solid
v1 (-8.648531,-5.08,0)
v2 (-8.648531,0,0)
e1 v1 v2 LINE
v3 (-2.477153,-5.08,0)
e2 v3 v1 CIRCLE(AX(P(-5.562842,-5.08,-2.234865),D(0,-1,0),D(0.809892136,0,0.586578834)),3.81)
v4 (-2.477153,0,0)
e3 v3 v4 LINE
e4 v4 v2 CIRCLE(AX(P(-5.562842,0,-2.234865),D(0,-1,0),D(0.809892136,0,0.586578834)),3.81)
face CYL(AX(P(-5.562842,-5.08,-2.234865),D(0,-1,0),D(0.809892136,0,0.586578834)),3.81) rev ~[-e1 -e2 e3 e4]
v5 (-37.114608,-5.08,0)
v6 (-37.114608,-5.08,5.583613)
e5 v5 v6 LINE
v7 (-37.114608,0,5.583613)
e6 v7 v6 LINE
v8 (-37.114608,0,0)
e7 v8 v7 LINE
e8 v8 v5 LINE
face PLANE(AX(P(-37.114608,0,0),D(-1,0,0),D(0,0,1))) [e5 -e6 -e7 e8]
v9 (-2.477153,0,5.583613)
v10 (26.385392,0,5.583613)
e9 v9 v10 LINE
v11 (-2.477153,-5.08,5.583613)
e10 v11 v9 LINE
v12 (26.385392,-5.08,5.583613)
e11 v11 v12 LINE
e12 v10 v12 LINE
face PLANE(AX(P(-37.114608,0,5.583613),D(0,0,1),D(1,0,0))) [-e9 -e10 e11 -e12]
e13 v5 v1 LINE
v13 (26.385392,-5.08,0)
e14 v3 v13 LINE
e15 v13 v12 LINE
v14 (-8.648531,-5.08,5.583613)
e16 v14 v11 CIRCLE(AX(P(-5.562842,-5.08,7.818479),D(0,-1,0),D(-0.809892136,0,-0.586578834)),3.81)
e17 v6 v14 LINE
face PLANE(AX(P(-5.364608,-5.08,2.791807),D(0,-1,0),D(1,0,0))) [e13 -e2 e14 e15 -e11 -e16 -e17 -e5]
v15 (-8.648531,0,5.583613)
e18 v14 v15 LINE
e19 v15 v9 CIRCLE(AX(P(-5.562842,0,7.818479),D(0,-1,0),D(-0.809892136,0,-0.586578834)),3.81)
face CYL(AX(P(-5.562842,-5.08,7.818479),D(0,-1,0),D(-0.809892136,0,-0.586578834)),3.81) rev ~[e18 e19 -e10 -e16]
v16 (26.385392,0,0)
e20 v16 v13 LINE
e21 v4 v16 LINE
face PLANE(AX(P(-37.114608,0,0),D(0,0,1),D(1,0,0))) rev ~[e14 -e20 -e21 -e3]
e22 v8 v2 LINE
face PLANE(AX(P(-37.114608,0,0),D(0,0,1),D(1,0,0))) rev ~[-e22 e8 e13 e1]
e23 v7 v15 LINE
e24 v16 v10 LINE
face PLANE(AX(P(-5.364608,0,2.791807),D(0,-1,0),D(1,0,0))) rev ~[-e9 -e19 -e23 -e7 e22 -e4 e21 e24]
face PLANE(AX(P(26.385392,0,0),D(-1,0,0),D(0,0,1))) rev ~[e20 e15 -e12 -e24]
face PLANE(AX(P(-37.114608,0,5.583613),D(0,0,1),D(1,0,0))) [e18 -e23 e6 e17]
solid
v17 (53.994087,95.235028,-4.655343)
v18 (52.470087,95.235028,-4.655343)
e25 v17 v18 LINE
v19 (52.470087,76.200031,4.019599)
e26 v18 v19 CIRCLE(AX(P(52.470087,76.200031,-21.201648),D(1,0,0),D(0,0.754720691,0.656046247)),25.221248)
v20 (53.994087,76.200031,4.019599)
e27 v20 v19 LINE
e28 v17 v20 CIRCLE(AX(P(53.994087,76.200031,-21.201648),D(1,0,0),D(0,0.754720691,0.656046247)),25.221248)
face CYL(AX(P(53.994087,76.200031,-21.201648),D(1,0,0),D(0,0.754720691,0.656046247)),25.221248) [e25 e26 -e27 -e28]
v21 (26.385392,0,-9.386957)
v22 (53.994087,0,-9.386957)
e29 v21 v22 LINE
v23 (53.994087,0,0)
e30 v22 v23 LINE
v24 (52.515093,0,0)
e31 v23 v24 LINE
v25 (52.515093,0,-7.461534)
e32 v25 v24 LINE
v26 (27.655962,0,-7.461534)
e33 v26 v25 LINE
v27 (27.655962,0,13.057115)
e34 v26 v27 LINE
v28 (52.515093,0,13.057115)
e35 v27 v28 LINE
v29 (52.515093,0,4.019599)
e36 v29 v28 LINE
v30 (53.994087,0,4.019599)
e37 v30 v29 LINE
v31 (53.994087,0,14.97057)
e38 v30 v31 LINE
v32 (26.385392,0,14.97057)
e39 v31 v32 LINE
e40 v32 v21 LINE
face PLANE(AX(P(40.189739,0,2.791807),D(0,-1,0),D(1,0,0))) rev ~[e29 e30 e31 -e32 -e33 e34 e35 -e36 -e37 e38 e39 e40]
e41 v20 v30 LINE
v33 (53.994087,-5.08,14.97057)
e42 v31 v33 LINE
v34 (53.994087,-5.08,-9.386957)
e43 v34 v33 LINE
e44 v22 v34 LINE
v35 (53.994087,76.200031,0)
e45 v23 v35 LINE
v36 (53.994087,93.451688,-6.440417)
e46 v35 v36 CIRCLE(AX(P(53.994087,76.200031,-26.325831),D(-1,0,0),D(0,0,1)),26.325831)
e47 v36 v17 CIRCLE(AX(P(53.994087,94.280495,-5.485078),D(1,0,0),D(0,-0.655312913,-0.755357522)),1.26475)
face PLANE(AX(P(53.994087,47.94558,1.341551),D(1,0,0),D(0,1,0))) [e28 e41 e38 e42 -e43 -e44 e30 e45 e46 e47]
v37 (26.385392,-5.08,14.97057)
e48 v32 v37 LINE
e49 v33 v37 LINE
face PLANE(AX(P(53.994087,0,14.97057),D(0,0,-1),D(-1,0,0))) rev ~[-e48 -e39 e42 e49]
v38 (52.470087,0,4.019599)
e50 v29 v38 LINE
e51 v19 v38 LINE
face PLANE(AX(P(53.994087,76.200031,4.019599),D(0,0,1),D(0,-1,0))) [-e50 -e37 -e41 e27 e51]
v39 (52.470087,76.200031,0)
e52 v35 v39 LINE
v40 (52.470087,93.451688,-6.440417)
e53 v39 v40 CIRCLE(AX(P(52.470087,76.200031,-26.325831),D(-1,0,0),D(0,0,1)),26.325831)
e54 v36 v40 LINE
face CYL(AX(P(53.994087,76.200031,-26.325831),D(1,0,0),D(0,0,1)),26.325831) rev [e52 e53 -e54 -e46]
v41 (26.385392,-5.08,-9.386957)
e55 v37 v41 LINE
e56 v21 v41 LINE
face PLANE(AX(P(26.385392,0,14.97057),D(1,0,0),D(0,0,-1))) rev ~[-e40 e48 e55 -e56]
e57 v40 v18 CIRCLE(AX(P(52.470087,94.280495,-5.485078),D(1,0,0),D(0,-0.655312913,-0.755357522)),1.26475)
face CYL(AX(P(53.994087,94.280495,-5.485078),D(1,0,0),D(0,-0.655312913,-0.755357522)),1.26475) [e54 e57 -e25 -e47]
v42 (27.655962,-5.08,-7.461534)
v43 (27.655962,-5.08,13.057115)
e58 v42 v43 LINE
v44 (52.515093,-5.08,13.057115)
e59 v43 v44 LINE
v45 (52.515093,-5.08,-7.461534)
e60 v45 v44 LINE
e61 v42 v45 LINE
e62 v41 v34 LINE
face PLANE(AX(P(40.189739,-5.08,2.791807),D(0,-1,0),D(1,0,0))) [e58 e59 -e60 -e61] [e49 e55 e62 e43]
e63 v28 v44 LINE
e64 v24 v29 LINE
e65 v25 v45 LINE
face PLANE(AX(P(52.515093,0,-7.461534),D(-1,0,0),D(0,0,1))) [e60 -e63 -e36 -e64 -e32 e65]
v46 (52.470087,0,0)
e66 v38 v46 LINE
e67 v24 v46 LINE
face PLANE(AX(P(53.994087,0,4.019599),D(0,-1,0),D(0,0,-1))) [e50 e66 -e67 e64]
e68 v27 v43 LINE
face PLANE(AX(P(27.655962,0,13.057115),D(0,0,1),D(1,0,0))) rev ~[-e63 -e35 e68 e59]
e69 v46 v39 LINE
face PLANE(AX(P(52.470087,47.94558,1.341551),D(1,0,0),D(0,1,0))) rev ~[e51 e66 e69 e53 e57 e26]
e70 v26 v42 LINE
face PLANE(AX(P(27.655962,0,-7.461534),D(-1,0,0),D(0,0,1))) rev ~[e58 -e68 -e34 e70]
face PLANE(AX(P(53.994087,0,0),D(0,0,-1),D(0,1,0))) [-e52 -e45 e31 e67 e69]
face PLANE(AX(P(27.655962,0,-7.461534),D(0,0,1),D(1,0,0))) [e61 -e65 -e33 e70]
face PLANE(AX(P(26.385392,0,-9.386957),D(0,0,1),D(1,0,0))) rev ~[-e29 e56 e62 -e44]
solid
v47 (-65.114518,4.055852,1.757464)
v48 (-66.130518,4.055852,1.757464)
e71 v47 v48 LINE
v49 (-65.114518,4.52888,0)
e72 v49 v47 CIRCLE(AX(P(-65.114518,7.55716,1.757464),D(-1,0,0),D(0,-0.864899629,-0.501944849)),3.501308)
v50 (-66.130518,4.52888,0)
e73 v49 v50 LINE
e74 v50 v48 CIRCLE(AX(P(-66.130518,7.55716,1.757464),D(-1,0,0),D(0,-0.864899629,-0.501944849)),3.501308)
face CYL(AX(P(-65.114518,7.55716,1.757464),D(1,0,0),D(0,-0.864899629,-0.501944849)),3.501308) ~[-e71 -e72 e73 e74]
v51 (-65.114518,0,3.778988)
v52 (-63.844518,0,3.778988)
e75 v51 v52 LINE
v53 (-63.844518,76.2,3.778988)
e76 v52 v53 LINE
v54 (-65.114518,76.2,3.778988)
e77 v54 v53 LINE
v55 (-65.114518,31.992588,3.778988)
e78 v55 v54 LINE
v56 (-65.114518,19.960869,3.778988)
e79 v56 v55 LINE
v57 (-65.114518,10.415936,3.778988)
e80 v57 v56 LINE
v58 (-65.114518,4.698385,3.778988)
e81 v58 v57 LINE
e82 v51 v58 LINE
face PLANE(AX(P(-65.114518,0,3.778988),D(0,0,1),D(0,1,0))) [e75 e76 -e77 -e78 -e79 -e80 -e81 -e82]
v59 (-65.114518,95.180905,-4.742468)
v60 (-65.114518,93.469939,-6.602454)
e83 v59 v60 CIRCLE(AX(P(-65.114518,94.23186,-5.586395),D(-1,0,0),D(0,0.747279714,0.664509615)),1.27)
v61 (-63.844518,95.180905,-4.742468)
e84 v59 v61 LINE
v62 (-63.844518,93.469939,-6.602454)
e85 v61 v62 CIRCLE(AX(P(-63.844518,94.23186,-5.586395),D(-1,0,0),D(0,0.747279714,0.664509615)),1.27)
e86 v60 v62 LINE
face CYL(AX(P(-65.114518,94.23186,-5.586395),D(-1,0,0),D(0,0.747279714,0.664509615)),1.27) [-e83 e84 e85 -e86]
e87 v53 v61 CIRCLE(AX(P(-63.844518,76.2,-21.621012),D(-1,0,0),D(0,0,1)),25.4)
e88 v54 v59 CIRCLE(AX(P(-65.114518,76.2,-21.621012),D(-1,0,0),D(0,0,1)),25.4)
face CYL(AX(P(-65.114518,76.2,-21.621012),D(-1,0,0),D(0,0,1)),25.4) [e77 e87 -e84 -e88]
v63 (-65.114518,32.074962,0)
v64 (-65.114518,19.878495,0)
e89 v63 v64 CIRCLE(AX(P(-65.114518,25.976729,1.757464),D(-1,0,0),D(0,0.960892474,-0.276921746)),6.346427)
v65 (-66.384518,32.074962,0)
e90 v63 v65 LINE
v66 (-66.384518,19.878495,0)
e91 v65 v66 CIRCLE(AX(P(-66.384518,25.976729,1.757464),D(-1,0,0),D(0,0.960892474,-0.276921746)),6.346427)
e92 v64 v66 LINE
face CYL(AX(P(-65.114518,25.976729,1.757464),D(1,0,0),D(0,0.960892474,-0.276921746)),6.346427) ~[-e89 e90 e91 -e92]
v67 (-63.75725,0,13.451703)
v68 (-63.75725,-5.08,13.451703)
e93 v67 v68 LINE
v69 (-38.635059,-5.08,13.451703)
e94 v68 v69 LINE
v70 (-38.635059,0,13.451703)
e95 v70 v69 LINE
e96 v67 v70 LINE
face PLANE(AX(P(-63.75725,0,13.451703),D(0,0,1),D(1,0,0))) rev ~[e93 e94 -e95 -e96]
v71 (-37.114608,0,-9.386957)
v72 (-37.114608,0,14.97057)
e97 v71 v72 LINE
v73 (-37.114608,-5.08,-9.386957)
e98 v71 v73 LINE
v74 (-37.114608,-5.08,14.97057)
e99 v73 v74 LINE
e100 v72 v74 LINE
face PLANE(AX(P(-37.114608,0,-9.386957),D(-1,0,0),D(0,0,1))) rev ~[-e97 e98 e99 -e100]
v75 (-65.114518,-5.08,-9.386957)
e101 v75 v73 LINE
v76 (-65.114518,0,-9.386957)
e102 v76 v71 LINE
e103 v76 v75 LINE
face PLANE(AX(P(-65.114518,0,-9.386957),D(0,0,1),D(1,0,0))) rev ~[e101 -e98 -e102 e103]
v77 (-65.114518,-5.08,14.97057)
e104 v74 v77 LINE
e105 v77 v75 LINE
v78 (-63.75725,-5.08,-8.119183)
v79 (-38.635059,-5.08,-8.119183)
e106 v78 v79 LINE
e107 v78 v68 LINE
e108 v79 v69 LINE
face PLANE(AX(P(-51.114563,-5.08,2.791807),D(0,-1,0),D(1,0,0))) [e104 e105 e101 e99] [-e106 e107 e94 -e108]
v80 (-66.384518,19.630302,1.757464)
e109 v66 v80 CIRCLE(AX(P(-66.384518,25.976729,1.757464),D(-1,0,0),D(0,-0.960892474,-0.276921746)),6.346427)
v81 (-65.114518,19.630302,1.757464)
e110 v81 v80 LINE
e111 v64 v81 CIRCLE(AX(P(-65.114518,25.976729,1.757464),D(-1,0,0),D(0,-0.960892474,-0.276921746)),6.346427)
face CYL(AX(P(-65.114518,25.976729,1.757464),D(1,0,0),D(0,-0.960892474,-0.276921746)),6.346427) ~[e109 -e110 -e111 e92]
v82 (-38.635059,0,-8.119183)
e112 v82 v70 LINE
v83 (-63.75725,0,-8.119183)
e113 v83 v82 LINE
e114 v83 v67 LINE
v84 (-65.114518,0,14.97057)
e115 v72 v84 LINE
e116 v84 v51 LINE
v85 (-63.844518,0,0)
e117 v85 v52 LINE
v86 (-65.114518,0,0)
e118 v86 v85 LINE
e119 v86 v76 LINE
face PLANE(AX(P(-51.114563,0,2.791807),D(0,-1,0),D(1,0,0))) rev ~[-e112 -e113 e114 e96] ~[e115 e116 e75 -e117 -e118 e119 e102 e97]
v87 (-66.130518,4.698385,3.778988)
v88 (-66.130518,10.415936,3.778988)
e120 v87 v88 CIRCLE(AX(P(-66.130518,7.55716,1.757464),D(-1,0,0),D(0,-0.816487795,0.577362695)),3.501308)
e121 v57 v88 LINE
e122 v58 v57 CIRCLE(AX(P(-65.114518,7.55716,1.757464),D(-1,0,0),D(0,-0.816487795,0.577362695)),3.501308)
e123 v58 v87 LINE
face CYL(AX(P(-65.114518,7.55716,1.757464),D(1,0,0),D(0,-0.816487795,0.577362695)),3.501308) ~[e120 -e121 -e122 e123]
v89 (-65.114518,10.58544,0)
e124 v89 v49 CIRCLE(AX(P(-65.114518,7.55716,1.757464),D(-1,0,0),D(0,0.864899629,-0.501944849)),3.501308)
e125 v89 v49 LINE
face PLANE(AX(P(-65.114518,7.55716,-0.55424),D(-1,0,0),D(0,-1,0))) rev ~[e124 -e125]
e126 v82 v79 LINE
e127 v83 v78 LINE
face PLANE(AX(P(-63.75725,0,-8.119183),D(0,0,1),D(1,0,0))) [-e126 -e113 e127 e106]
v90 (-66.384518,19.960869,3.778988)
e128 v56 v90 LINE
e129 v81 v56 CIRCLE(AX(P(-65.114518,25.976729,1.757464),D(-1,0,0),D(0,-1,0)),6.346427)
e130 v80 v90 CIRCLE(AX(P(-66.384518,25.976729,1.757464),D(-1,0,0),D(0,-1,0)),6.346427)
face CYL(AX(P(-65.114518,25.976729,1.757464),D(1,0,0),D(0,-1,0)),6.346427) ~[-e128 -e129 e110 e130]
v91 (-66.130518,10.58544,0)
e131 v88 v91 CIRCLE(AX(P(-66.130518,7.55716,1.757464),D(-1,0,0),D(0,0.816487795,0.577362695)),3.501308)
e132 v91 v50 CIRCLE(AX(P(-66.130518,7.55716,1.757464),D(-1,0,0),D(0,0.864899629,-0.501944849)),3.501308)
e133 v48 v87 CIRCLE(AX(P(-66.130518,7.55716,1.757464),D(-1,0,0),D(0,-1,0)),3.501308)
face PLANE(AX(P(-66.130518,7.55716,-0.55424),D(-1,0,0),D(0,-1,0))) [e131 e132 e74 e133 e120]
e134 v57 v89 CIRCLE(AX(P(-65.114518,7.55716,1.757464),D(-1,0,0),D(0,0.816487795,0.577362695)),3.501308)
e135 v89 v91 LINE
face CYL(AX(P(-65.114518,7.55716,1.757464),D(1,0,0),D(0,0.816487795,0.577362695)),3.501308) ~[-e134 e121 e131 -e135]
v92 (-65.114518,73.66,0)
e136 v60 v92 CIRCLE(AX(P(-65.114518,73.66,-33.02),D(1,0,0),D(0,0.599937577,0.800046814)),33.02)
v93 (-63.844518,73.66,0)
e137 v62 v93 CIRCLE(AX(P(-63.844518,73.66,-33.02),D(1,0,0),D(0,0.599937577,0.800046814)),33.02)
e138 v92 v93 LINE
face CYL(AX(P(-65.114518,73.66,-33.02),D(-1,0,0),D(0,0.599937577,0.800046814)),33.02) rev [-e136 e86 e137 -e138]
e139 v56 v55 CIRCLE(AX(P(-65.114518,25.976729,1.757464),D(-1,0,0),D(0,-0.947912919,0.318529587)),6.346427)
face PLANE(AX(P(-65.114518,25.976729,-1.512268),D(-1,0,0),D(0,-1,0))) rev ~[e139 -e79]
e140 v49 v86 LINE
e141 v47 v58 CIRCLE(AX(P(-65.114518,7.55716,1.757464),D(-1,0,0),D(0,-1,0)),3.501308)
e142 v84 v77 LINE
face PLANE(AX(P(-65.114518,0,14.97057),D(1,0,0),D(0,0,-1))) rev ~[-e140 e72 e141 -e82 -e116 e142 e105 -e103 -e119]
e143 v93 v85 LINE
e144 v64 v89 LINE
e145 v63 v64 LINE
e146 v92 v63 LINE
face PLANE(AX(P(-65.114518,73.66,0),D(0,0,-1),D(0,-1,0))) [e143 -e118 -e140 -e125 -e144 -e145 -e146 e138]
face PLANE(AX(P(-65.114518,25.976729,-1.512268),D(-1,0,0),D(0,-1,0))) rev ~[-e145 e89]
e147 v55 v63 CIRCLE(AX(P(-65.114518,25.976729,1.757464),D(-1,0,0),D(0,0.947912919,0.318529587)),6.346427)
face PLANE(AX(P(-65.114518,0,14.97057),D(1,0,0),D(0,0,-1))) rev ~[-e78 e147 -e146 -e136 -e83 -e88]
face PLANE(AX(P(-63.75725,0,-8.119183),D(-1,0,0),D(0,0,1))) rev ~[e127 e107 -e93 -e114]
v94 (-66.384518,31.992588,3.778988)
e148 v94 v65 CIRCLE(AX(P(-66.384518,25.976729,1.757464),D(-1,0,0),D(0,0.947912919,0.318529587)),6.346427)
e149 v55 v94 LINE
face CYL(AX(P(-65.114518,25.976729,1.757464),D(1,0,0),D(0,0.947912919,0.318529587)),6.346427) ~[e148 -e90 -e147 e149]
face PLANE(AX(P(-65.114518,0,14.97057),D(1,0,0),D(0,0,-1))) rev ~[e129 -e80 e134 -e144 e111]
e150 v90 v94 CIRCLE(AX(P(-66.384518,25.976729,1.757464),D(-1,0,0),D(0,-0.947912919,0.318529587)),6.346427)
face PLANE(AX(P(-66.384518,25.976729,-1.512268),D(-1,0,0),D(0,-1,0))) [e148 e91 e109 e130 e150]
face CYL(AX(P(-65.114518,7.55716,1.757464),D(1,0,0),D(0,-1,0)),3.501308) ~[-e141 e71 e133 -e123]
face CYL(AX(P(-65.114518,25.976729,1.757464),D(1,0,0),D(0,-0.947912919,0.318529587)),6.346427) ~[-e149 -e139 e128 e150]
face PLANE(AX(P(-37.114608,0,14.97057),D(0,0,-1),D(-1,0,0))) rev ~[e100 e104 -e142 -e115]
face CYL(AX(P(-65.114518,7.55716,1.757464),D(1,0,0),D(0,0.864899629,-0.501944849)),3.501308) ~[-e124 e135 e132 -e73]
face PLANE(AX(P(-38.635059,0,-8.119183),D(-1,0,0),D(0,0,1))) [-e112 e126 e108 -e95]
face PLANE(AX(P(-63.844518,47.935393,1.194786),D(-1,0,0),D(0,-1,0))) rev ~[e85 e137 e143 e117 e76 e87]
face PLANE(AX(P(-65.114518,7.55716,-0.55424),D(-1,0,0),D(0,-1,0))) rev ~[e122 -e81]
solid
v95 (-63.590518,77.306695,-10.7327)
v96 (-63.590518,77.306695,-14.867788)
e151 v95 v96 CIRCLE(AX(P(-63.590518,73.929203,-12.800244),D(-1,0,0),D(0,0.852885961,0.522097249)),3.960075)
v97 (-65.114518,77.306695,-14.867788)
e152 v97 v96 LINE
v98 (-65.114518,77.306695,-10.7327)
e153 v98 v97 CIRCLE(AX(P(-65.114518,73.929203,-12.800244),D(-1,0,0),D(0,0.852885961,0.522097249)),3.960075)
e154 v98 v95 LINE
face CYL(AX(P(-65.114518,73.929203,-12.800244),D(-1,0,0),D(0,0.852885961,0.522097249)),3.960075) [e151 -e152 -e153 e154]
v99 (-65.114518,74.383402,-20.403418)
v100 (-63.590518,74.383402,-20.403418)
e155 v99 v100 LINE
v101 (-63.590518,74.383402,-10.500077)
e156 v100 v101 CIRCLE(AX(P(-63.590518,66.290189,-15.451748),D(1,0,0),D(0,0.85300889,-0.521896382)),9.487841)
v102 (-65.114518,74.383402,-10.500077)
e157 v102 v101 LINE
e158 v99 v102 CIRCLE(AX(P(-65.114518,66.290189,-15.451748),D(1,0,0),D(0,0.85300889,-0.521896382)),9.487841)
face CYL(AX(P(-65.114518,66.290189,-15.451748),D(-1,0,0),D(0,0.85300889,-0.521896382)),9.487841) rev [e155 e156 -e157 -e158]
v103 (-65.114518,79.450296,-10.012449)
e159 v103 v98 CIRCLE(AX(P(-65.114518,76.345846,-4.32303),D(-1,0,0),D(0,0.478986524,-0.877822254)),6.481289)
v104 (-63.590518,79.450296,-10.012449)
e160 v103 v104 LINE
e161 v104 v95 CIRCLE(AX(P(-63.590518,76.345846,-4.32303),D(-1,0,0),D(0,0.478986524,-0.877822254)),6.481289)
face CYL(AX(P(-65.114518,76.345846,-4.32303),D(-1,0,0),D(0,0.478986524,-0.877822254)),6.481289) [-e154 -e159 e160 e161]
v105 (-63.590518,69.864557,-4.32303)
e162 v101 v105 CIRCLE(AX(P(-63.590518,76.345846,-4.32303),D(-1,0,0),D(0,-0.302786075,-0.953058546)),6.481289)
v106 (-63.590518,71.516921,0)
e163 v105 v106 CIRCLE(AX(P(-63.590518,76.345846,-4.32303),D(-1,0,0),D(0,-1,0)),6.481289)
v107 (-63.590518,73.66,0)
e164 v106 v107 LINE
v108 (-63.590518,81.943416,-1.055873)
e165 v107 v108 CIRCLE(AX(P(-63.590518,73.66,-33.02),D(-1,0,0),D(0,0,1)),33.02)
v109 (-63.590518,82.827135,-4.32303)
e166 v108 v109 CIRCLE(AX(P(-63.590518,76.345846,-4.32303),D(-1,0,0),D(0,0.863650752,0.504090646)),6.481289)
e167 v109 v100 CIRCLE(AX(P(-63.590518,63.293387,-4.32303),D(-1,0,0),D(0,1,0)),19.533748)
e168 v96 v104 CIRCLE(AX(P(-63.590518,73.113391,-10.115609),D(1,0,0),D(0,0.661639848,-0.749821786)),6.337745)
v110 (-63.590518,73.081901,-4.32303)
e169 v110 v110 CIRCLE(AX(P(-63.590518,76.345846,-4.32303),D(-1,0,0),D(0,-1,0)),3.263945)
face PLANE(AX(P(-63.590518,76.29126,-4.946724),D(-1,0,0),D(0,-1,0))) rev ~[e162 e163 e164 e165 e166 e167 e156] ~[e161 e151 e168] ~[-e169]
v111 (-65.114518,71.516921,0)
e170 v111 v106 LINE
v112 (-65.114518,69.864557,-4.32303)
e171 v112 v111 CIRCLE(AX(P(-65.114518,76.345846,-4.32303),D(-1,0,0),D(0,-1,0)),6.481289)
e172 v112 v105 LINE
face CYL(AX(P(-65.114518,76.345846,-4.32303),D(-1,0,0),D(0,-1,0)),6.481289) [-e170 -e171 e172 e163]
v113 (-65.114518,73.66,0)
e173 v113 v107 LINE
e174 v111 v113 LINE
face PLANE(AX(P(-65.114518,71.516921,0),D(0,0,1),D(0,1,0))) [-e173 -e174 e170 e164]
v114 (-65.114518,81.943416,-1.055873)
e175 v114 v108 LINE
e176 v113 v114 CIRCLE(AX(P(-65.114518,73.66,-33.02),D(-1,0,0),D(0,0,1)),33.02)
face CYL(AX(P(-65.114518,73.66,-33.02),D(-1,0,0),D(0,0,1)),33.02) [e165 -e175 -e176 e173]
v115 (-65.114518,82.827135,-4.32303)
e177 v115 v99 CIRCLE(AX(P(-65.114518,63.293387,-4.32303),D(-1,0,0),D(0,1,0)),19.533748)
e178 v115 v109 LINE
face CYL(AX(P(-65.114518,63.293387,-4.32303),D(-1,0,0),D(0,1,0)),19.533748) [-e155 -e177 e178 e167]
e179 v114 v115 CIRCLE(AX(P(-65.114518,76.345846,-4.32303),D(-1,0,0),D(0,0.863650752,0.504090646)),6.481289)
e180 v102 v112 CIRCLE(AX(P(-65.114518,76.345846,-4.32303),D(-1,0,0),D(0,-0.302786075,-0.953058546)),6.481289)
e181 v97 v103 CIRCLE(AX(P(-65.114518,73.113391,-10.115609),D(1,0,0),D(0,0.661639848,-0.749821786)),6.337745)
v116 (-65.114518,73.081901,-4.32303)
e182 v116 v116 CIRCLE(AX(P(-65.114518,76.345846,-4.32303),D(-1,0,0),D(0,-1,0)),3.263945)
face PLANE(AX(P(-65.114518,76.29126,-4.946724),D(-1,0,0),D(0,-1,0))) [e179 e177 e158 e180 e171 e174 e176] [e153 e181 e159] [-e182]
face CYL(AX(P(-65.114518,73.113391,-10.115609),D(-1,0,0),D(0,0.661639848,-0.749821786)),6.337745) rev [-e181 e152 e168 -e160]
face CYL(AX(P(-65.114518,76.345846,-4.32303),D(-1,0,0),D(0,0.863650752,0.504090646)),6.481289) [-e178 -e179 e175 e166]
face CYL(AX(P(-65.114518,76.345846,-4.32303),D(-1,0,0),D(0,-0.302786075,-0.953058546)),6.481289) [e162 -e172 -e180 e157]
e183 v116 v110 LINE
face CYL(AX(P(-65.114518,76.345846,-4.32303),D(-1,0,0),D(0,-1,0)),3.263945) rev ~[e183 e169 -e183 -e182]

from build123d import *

# Parameters (mm, degrees)
F0_W      = 24.8591314353
F0_H      = 20.5186494302
F1_DEPTH  = 5.08
F0_W_2    = 25.122191595
F0_H_2    = 21.5708865258
F2_DEPTH  = 5.08
F0_W_3    = 63.5
F0_H_3    = 5.5836134831
F3_DEPTH  = 5.08
F5_DEPTH  = 1.27
F7_DEPTH  = 1.524
F9_DEPTH  = 25.4
F10_R     = 3.2639449121
F11_DEPTH = 1.524
F12_DEPTH = 25.4
F14_DEPTH = 1.016
F15_DEPTH = 1.27


with BuildPart() as f1:
    # F0 (on Front) → F1 (new body)
    with BuildSketch(Plane.XZ):
        Polygon((26.385391636, 14.9705700048), (26.385391636, 5.5836134831), (26.385391636, 0), (26.385391636, -9.3869565217), (53.9940872881, -9.3869565217), (53.9940872881, 14.9705700048), align=None)
        with Locations((40.0855276815, 2.7977904487)):
            Rectangle(F0_W, F0_H, mode=Mode.SUBTRACT)
    extrude(amount=F1_DEPTH)

    # F0 (on Front) → F2 (cut)
    with BuildSketch(Plane.XZ):
        with Locations((-51.196154369, 2.6662601158)):
            Rectangle(F0_W_2, F0_H_2)
        with Locations((40.0855276815, 2.7977904487)):
            Rectangle(F0_W, F0_H)
    extrude(amount=F2_DEPTH, mode=Mode.SUBTRACT)

    # F6 (on face) → F7 (join)
    with BuildSketch(Plane.YZ.offset(53.9940872881)):
        with BuildLine():
            Line((76.2000307441, 4.0195993367), (0, 4.0195993367))
            Line((0, 4.0195993367), (0, 0))
            Line((0, 0), (76.2000307441, 0))
            ThreePointArc((76.2000307441, 0), (85.4073462963, -1.6626049581), (93.451687857, -6.440416568))
            ThreePointArc((93.451687857, -6.440416568), (95.175242601, -6.3789570267), (95.2350281051, -4.6553434028))
            ThreePointArc((95.2350281051, -4.6553434028), (86.6593060066, 1.7486216939), (76.2000307441, 4.0195993367))
        make_face()
    extrude(amount=-F7_DEPTH)

    # F10 (on face) → F12 (cut)
    with BuildSketch(Plane(origin=(-65.1145180239, 0, 0), x_dir=(0, -1, 0), z_dir=(-1, 0, 0))):
        with Locations((-76.3458460569, -4.3230298907)):
            Circle(F10_R)
        with BuildLine():
            ThreePointArc((-77.3066952825, -10.7327000518), (-78.4101509232, -10.4667867403), (-79.450295985, -10.0124493208))
            ThreePointArc((-79.450295985, -10.0124493208), (-78.9112272655, -12.6753163205), (-77.3066952825, -14.8677881807))
            ThreePointArc((-77.3066952825, -14.8677881807), (-77.8892778547, -12.8002441162), (-77.3066952825, -10.7327000518))
        make_face()
    extrude(amount=-F12_DEPTH, mode=Mode.SUBTRACT)


with BuildPart() as f1b:
    # F0 (on Front) → F1, piece 2 (new body)
    with BuildSketch(Plane.XZ):
        Polygon((-37.114608364, 0), (-37.114608364, 5.5836134831), (-37.114608364, 14.9705700048), (-65.1145180239, 14.9705700048), (-65.1145180239, -9.3869565217), (-37.114608364, -9.3869565217), align=None)
        with Locations((-51.196154369, 2.6662601158)):
            Rectangle(F0_W_2, F0_H_2, mode=Mode.SUBTRACT)
    extrude(amount=F1_DEPTH)

    # F4 (on face) → F5 (join)
    with BuildSketch(Plane(origin=(-65.1145180239, 0, 0), x_dir=(0, -1, 0), z_dir=(-1, 0, 0))):
        with BuildLine():
            Line((0, 0), (0, 3.7789882266))
            Line((0, 3.7789882266), (-76.2, 3.7789882266))
            ThreePointArc((-76.2, 3.7789882266), (-86.6030038133, 1.5509003545), (-95.1809047422, -4.7424675481))
            ThreePointArc((-95.1809047422, -4.7424675481), (-95.1665474178, -6.4461961933), (-93.4699387827, -6.6024542127))
            ThreePointArc((-93.4699387827, -6.6024542127), (-84.1006187102, -1.6940701503), (-73.66, 0))
            Line((-73.66, 0), (0, 0))
        make_face()
    extrude(amount=-F5_DEPTH)

    # F13 (on face) → F14 (join)
    with BuildSketch(Plane(origin=(-65.1145180239, 0, 0), x_dir=(0, -1, 0), z_dir=(-1, 0, 0))):
        with BuildLine():
            ThreePointArc((-10.585440284, 0), (-7.557160221, -1.7438445264), (-4.528880158, 0))
            Line((-4.528880158, 0), (-10.585440284, 0))
        make_face()
        with BuildLine():
            ThreePointArc((-4.528880158, 0), (-4.1761766544, 0.847458933), (-4.0558521379, 1.7574635567))
            ThreePointArc((-4.0558521379, 1.7574635567), (-4.2203495123, 2.8180542352), (-4.698384906, 3.7789882266))
            Line((-4.698384906, 3.7789882266), (-10.4159355361, 3.7789882266))
            ThreePointArc((-10.4159355361, 3.7789882266), (-11.0549514184, 1.9143553435), (-10.585440284, 0))
            Line((-10.585440284, 0), (-4.528880158, 0))
        make_face()
        with BuildLine():
            Line((-10.4159355361, 3.7789882266), (-4.698384906, 3.7789882266))
            ThreePointArc((-4.698384906, 3.7789882266), (-7.557160221, 5.2587716399), (-10.4159355361, 3.7789882266))
        make_face()
    extrude(amount=F14_DEPTH)

    # F13 (on face) → F15 (join)
    with BuildSketch(Plane(origin=(-65.1145180239, 0, 0), x_dir=(0, -1, 0), z_dir=(-1, 0, 0))):
        with BuildLine():
            ThreePointArc((-32.0749622812, 0), (-25.9767286479, -4.5889631228), (-19.8784950147, 0))
            Line((-19.8784950147, 0), (-32.0749622812, 0))
        make_face()
        with BuildLine():
            ThreePointArc((-19.6303019684, 1.7574635567), (-19.7134888719, 2.7816506035), (-19.9608688085, 3.7789882266))
            Line((-19.9608688085, 3.7789882266), (-31.9925884874, 3.7789882266))
            ThreePointArc((-31.9925884874, 3.7789882266), (-32.321648125, 1.8957691183), (-32.0749622812, 0))
            Line((-32.0749622812, 0), (-19.8784950147, 0))
            ThreePointArc((-19.8784950147, 0), (-19.6926565515, 0.8700124396), (-19.6303019684, 1.7574635567))
        make_face()
        with BuildLine():
            Line((-31.9925884874, 3.7789882266), (-19.9608688085, 3.7789882266))
            ThreePointArc((-19.9608688085, 3.7789882266), (-25.9767286479, 8.1038902362), (-31.9925884874, 3.7789882266))
        make_face()
    extrude(amount=F15_DEPTH)


with BuildPart() as f3:
    # F0 (on Front) → F3 (new body)
    with BuildSketch(Plane.XZ):
        with Locations((-5.364608364, 2.7918067415)):
            Rectangle(F0_W_3, F0_H_3)
    extrude(amount=F3_DEPTH)

    # F8 (on face) → F9 (cut)
    with BuildSketch(Plane.XZ.offset(5.08)):
        with BuildLine():
            Line((-2.4771525059, 5.5836134831), (-8.6485305801, 5.5836134831))
            ThreePointArc((-8.6485305801, 5.5836134831), (-5.562841543, 4.0084788406), (-2.4771525059, 5.5836134831))
        make_face()
        with BuildLine():
            ThreePointArc((-2.4771525059, 0), (-5.562841543, 1.5751346425), (-8.6485305801, 0))
            Line((-8.6485305801, 0), (-2.4771525059, 0))
        make_face()
    extrude(amount=-F9_DEPTH, mode=Mode.SUBTRACT)


with BuildPart() as f11:
    # F10 (on face) → F11 (new body)
    with BuildSketch(Plane(origin=(-65.1145180239, 0, 0), x_dir=(0, -1, 0), z_dir=(-1, 0, 0))):
        with BuildLine():
            ThreePointArc((-81.9434158877, -1.0558729005), (-82.602305468, -2.6307478676), (-82.8271347257, -4.3230298907))
            ThreePointArc((-82.8271347257, -4.3230298907), (-81.9193520877, -7.6310705998), (-79.450295985, -10.0124493208))
            ThreePointArc((-79.450295985, -10.0124493208), (-78.4101509232, -10.4667867403), (-77.3066952825, -10.7327000518))
            ThreePointArc((-77.3066952825, -10.7327000518), (-75.8317193013, -10.783894886), (-74.3834020992, -10.5000774476))
            ThreePointArc((-74.3834020992, -10.5000774476), (-71.1148677261, -8.1497737429), (-69.8645573881, -4.3230298907))
            ThreePointArc((-69.8645573881, -4.3230298907), (-70.2917251946, -2.0090023644), (-71.5169211898, 0))
            Line((-71.5169211898, 0), (-73.66, 0))
            ThreePointArc((-73.66, 0), (-77.8352199448, -0.2650318515), (-81.9434158877, -1.0558729005))
        make_face()
        with Locations((-76.3458460569, -4.3230298907)):
            Circle(F10_R, mode=Mode.SUBTRACT)
        with BuildLine():
            ThreePointArc((-79.450295985, -10.0124493208), (-81.9193520877, -7.6310705998), (-82.8271347257, -4.3230298907))
            ThreePointArc((-82.8271347257, -4.3230298907), (-80.587849375, -13.4042673338), (-74.3834020992, -20.4034177381))
            ThreePointArc((-74.3834020992, -20.4034177381), (-75.7780304506, -15.4517475929), (-74.3834020992, -10.5000774476))
            ThreePointArc((-74.3834020992, -10.5000774476), (-75.8317193013, -10.783894886), (-77.3066952825, -10.7327000518))
            ThreePointArc((-77.3066952825, -10.7327000518), (-77.8892778547, -12.8002441162), (-77.3066952825, -14.8677881807))
            ThreePointArc((-77.3066952825, -14.8677881807), (-78.9112272655, -12.6753163205), (-79.450295985, -10.0124493208))
        make_face()
    extrude(amount=-F11_DEPTH)


solid = Compound([f1.part, f1b.part, f3.part, f11.part])
